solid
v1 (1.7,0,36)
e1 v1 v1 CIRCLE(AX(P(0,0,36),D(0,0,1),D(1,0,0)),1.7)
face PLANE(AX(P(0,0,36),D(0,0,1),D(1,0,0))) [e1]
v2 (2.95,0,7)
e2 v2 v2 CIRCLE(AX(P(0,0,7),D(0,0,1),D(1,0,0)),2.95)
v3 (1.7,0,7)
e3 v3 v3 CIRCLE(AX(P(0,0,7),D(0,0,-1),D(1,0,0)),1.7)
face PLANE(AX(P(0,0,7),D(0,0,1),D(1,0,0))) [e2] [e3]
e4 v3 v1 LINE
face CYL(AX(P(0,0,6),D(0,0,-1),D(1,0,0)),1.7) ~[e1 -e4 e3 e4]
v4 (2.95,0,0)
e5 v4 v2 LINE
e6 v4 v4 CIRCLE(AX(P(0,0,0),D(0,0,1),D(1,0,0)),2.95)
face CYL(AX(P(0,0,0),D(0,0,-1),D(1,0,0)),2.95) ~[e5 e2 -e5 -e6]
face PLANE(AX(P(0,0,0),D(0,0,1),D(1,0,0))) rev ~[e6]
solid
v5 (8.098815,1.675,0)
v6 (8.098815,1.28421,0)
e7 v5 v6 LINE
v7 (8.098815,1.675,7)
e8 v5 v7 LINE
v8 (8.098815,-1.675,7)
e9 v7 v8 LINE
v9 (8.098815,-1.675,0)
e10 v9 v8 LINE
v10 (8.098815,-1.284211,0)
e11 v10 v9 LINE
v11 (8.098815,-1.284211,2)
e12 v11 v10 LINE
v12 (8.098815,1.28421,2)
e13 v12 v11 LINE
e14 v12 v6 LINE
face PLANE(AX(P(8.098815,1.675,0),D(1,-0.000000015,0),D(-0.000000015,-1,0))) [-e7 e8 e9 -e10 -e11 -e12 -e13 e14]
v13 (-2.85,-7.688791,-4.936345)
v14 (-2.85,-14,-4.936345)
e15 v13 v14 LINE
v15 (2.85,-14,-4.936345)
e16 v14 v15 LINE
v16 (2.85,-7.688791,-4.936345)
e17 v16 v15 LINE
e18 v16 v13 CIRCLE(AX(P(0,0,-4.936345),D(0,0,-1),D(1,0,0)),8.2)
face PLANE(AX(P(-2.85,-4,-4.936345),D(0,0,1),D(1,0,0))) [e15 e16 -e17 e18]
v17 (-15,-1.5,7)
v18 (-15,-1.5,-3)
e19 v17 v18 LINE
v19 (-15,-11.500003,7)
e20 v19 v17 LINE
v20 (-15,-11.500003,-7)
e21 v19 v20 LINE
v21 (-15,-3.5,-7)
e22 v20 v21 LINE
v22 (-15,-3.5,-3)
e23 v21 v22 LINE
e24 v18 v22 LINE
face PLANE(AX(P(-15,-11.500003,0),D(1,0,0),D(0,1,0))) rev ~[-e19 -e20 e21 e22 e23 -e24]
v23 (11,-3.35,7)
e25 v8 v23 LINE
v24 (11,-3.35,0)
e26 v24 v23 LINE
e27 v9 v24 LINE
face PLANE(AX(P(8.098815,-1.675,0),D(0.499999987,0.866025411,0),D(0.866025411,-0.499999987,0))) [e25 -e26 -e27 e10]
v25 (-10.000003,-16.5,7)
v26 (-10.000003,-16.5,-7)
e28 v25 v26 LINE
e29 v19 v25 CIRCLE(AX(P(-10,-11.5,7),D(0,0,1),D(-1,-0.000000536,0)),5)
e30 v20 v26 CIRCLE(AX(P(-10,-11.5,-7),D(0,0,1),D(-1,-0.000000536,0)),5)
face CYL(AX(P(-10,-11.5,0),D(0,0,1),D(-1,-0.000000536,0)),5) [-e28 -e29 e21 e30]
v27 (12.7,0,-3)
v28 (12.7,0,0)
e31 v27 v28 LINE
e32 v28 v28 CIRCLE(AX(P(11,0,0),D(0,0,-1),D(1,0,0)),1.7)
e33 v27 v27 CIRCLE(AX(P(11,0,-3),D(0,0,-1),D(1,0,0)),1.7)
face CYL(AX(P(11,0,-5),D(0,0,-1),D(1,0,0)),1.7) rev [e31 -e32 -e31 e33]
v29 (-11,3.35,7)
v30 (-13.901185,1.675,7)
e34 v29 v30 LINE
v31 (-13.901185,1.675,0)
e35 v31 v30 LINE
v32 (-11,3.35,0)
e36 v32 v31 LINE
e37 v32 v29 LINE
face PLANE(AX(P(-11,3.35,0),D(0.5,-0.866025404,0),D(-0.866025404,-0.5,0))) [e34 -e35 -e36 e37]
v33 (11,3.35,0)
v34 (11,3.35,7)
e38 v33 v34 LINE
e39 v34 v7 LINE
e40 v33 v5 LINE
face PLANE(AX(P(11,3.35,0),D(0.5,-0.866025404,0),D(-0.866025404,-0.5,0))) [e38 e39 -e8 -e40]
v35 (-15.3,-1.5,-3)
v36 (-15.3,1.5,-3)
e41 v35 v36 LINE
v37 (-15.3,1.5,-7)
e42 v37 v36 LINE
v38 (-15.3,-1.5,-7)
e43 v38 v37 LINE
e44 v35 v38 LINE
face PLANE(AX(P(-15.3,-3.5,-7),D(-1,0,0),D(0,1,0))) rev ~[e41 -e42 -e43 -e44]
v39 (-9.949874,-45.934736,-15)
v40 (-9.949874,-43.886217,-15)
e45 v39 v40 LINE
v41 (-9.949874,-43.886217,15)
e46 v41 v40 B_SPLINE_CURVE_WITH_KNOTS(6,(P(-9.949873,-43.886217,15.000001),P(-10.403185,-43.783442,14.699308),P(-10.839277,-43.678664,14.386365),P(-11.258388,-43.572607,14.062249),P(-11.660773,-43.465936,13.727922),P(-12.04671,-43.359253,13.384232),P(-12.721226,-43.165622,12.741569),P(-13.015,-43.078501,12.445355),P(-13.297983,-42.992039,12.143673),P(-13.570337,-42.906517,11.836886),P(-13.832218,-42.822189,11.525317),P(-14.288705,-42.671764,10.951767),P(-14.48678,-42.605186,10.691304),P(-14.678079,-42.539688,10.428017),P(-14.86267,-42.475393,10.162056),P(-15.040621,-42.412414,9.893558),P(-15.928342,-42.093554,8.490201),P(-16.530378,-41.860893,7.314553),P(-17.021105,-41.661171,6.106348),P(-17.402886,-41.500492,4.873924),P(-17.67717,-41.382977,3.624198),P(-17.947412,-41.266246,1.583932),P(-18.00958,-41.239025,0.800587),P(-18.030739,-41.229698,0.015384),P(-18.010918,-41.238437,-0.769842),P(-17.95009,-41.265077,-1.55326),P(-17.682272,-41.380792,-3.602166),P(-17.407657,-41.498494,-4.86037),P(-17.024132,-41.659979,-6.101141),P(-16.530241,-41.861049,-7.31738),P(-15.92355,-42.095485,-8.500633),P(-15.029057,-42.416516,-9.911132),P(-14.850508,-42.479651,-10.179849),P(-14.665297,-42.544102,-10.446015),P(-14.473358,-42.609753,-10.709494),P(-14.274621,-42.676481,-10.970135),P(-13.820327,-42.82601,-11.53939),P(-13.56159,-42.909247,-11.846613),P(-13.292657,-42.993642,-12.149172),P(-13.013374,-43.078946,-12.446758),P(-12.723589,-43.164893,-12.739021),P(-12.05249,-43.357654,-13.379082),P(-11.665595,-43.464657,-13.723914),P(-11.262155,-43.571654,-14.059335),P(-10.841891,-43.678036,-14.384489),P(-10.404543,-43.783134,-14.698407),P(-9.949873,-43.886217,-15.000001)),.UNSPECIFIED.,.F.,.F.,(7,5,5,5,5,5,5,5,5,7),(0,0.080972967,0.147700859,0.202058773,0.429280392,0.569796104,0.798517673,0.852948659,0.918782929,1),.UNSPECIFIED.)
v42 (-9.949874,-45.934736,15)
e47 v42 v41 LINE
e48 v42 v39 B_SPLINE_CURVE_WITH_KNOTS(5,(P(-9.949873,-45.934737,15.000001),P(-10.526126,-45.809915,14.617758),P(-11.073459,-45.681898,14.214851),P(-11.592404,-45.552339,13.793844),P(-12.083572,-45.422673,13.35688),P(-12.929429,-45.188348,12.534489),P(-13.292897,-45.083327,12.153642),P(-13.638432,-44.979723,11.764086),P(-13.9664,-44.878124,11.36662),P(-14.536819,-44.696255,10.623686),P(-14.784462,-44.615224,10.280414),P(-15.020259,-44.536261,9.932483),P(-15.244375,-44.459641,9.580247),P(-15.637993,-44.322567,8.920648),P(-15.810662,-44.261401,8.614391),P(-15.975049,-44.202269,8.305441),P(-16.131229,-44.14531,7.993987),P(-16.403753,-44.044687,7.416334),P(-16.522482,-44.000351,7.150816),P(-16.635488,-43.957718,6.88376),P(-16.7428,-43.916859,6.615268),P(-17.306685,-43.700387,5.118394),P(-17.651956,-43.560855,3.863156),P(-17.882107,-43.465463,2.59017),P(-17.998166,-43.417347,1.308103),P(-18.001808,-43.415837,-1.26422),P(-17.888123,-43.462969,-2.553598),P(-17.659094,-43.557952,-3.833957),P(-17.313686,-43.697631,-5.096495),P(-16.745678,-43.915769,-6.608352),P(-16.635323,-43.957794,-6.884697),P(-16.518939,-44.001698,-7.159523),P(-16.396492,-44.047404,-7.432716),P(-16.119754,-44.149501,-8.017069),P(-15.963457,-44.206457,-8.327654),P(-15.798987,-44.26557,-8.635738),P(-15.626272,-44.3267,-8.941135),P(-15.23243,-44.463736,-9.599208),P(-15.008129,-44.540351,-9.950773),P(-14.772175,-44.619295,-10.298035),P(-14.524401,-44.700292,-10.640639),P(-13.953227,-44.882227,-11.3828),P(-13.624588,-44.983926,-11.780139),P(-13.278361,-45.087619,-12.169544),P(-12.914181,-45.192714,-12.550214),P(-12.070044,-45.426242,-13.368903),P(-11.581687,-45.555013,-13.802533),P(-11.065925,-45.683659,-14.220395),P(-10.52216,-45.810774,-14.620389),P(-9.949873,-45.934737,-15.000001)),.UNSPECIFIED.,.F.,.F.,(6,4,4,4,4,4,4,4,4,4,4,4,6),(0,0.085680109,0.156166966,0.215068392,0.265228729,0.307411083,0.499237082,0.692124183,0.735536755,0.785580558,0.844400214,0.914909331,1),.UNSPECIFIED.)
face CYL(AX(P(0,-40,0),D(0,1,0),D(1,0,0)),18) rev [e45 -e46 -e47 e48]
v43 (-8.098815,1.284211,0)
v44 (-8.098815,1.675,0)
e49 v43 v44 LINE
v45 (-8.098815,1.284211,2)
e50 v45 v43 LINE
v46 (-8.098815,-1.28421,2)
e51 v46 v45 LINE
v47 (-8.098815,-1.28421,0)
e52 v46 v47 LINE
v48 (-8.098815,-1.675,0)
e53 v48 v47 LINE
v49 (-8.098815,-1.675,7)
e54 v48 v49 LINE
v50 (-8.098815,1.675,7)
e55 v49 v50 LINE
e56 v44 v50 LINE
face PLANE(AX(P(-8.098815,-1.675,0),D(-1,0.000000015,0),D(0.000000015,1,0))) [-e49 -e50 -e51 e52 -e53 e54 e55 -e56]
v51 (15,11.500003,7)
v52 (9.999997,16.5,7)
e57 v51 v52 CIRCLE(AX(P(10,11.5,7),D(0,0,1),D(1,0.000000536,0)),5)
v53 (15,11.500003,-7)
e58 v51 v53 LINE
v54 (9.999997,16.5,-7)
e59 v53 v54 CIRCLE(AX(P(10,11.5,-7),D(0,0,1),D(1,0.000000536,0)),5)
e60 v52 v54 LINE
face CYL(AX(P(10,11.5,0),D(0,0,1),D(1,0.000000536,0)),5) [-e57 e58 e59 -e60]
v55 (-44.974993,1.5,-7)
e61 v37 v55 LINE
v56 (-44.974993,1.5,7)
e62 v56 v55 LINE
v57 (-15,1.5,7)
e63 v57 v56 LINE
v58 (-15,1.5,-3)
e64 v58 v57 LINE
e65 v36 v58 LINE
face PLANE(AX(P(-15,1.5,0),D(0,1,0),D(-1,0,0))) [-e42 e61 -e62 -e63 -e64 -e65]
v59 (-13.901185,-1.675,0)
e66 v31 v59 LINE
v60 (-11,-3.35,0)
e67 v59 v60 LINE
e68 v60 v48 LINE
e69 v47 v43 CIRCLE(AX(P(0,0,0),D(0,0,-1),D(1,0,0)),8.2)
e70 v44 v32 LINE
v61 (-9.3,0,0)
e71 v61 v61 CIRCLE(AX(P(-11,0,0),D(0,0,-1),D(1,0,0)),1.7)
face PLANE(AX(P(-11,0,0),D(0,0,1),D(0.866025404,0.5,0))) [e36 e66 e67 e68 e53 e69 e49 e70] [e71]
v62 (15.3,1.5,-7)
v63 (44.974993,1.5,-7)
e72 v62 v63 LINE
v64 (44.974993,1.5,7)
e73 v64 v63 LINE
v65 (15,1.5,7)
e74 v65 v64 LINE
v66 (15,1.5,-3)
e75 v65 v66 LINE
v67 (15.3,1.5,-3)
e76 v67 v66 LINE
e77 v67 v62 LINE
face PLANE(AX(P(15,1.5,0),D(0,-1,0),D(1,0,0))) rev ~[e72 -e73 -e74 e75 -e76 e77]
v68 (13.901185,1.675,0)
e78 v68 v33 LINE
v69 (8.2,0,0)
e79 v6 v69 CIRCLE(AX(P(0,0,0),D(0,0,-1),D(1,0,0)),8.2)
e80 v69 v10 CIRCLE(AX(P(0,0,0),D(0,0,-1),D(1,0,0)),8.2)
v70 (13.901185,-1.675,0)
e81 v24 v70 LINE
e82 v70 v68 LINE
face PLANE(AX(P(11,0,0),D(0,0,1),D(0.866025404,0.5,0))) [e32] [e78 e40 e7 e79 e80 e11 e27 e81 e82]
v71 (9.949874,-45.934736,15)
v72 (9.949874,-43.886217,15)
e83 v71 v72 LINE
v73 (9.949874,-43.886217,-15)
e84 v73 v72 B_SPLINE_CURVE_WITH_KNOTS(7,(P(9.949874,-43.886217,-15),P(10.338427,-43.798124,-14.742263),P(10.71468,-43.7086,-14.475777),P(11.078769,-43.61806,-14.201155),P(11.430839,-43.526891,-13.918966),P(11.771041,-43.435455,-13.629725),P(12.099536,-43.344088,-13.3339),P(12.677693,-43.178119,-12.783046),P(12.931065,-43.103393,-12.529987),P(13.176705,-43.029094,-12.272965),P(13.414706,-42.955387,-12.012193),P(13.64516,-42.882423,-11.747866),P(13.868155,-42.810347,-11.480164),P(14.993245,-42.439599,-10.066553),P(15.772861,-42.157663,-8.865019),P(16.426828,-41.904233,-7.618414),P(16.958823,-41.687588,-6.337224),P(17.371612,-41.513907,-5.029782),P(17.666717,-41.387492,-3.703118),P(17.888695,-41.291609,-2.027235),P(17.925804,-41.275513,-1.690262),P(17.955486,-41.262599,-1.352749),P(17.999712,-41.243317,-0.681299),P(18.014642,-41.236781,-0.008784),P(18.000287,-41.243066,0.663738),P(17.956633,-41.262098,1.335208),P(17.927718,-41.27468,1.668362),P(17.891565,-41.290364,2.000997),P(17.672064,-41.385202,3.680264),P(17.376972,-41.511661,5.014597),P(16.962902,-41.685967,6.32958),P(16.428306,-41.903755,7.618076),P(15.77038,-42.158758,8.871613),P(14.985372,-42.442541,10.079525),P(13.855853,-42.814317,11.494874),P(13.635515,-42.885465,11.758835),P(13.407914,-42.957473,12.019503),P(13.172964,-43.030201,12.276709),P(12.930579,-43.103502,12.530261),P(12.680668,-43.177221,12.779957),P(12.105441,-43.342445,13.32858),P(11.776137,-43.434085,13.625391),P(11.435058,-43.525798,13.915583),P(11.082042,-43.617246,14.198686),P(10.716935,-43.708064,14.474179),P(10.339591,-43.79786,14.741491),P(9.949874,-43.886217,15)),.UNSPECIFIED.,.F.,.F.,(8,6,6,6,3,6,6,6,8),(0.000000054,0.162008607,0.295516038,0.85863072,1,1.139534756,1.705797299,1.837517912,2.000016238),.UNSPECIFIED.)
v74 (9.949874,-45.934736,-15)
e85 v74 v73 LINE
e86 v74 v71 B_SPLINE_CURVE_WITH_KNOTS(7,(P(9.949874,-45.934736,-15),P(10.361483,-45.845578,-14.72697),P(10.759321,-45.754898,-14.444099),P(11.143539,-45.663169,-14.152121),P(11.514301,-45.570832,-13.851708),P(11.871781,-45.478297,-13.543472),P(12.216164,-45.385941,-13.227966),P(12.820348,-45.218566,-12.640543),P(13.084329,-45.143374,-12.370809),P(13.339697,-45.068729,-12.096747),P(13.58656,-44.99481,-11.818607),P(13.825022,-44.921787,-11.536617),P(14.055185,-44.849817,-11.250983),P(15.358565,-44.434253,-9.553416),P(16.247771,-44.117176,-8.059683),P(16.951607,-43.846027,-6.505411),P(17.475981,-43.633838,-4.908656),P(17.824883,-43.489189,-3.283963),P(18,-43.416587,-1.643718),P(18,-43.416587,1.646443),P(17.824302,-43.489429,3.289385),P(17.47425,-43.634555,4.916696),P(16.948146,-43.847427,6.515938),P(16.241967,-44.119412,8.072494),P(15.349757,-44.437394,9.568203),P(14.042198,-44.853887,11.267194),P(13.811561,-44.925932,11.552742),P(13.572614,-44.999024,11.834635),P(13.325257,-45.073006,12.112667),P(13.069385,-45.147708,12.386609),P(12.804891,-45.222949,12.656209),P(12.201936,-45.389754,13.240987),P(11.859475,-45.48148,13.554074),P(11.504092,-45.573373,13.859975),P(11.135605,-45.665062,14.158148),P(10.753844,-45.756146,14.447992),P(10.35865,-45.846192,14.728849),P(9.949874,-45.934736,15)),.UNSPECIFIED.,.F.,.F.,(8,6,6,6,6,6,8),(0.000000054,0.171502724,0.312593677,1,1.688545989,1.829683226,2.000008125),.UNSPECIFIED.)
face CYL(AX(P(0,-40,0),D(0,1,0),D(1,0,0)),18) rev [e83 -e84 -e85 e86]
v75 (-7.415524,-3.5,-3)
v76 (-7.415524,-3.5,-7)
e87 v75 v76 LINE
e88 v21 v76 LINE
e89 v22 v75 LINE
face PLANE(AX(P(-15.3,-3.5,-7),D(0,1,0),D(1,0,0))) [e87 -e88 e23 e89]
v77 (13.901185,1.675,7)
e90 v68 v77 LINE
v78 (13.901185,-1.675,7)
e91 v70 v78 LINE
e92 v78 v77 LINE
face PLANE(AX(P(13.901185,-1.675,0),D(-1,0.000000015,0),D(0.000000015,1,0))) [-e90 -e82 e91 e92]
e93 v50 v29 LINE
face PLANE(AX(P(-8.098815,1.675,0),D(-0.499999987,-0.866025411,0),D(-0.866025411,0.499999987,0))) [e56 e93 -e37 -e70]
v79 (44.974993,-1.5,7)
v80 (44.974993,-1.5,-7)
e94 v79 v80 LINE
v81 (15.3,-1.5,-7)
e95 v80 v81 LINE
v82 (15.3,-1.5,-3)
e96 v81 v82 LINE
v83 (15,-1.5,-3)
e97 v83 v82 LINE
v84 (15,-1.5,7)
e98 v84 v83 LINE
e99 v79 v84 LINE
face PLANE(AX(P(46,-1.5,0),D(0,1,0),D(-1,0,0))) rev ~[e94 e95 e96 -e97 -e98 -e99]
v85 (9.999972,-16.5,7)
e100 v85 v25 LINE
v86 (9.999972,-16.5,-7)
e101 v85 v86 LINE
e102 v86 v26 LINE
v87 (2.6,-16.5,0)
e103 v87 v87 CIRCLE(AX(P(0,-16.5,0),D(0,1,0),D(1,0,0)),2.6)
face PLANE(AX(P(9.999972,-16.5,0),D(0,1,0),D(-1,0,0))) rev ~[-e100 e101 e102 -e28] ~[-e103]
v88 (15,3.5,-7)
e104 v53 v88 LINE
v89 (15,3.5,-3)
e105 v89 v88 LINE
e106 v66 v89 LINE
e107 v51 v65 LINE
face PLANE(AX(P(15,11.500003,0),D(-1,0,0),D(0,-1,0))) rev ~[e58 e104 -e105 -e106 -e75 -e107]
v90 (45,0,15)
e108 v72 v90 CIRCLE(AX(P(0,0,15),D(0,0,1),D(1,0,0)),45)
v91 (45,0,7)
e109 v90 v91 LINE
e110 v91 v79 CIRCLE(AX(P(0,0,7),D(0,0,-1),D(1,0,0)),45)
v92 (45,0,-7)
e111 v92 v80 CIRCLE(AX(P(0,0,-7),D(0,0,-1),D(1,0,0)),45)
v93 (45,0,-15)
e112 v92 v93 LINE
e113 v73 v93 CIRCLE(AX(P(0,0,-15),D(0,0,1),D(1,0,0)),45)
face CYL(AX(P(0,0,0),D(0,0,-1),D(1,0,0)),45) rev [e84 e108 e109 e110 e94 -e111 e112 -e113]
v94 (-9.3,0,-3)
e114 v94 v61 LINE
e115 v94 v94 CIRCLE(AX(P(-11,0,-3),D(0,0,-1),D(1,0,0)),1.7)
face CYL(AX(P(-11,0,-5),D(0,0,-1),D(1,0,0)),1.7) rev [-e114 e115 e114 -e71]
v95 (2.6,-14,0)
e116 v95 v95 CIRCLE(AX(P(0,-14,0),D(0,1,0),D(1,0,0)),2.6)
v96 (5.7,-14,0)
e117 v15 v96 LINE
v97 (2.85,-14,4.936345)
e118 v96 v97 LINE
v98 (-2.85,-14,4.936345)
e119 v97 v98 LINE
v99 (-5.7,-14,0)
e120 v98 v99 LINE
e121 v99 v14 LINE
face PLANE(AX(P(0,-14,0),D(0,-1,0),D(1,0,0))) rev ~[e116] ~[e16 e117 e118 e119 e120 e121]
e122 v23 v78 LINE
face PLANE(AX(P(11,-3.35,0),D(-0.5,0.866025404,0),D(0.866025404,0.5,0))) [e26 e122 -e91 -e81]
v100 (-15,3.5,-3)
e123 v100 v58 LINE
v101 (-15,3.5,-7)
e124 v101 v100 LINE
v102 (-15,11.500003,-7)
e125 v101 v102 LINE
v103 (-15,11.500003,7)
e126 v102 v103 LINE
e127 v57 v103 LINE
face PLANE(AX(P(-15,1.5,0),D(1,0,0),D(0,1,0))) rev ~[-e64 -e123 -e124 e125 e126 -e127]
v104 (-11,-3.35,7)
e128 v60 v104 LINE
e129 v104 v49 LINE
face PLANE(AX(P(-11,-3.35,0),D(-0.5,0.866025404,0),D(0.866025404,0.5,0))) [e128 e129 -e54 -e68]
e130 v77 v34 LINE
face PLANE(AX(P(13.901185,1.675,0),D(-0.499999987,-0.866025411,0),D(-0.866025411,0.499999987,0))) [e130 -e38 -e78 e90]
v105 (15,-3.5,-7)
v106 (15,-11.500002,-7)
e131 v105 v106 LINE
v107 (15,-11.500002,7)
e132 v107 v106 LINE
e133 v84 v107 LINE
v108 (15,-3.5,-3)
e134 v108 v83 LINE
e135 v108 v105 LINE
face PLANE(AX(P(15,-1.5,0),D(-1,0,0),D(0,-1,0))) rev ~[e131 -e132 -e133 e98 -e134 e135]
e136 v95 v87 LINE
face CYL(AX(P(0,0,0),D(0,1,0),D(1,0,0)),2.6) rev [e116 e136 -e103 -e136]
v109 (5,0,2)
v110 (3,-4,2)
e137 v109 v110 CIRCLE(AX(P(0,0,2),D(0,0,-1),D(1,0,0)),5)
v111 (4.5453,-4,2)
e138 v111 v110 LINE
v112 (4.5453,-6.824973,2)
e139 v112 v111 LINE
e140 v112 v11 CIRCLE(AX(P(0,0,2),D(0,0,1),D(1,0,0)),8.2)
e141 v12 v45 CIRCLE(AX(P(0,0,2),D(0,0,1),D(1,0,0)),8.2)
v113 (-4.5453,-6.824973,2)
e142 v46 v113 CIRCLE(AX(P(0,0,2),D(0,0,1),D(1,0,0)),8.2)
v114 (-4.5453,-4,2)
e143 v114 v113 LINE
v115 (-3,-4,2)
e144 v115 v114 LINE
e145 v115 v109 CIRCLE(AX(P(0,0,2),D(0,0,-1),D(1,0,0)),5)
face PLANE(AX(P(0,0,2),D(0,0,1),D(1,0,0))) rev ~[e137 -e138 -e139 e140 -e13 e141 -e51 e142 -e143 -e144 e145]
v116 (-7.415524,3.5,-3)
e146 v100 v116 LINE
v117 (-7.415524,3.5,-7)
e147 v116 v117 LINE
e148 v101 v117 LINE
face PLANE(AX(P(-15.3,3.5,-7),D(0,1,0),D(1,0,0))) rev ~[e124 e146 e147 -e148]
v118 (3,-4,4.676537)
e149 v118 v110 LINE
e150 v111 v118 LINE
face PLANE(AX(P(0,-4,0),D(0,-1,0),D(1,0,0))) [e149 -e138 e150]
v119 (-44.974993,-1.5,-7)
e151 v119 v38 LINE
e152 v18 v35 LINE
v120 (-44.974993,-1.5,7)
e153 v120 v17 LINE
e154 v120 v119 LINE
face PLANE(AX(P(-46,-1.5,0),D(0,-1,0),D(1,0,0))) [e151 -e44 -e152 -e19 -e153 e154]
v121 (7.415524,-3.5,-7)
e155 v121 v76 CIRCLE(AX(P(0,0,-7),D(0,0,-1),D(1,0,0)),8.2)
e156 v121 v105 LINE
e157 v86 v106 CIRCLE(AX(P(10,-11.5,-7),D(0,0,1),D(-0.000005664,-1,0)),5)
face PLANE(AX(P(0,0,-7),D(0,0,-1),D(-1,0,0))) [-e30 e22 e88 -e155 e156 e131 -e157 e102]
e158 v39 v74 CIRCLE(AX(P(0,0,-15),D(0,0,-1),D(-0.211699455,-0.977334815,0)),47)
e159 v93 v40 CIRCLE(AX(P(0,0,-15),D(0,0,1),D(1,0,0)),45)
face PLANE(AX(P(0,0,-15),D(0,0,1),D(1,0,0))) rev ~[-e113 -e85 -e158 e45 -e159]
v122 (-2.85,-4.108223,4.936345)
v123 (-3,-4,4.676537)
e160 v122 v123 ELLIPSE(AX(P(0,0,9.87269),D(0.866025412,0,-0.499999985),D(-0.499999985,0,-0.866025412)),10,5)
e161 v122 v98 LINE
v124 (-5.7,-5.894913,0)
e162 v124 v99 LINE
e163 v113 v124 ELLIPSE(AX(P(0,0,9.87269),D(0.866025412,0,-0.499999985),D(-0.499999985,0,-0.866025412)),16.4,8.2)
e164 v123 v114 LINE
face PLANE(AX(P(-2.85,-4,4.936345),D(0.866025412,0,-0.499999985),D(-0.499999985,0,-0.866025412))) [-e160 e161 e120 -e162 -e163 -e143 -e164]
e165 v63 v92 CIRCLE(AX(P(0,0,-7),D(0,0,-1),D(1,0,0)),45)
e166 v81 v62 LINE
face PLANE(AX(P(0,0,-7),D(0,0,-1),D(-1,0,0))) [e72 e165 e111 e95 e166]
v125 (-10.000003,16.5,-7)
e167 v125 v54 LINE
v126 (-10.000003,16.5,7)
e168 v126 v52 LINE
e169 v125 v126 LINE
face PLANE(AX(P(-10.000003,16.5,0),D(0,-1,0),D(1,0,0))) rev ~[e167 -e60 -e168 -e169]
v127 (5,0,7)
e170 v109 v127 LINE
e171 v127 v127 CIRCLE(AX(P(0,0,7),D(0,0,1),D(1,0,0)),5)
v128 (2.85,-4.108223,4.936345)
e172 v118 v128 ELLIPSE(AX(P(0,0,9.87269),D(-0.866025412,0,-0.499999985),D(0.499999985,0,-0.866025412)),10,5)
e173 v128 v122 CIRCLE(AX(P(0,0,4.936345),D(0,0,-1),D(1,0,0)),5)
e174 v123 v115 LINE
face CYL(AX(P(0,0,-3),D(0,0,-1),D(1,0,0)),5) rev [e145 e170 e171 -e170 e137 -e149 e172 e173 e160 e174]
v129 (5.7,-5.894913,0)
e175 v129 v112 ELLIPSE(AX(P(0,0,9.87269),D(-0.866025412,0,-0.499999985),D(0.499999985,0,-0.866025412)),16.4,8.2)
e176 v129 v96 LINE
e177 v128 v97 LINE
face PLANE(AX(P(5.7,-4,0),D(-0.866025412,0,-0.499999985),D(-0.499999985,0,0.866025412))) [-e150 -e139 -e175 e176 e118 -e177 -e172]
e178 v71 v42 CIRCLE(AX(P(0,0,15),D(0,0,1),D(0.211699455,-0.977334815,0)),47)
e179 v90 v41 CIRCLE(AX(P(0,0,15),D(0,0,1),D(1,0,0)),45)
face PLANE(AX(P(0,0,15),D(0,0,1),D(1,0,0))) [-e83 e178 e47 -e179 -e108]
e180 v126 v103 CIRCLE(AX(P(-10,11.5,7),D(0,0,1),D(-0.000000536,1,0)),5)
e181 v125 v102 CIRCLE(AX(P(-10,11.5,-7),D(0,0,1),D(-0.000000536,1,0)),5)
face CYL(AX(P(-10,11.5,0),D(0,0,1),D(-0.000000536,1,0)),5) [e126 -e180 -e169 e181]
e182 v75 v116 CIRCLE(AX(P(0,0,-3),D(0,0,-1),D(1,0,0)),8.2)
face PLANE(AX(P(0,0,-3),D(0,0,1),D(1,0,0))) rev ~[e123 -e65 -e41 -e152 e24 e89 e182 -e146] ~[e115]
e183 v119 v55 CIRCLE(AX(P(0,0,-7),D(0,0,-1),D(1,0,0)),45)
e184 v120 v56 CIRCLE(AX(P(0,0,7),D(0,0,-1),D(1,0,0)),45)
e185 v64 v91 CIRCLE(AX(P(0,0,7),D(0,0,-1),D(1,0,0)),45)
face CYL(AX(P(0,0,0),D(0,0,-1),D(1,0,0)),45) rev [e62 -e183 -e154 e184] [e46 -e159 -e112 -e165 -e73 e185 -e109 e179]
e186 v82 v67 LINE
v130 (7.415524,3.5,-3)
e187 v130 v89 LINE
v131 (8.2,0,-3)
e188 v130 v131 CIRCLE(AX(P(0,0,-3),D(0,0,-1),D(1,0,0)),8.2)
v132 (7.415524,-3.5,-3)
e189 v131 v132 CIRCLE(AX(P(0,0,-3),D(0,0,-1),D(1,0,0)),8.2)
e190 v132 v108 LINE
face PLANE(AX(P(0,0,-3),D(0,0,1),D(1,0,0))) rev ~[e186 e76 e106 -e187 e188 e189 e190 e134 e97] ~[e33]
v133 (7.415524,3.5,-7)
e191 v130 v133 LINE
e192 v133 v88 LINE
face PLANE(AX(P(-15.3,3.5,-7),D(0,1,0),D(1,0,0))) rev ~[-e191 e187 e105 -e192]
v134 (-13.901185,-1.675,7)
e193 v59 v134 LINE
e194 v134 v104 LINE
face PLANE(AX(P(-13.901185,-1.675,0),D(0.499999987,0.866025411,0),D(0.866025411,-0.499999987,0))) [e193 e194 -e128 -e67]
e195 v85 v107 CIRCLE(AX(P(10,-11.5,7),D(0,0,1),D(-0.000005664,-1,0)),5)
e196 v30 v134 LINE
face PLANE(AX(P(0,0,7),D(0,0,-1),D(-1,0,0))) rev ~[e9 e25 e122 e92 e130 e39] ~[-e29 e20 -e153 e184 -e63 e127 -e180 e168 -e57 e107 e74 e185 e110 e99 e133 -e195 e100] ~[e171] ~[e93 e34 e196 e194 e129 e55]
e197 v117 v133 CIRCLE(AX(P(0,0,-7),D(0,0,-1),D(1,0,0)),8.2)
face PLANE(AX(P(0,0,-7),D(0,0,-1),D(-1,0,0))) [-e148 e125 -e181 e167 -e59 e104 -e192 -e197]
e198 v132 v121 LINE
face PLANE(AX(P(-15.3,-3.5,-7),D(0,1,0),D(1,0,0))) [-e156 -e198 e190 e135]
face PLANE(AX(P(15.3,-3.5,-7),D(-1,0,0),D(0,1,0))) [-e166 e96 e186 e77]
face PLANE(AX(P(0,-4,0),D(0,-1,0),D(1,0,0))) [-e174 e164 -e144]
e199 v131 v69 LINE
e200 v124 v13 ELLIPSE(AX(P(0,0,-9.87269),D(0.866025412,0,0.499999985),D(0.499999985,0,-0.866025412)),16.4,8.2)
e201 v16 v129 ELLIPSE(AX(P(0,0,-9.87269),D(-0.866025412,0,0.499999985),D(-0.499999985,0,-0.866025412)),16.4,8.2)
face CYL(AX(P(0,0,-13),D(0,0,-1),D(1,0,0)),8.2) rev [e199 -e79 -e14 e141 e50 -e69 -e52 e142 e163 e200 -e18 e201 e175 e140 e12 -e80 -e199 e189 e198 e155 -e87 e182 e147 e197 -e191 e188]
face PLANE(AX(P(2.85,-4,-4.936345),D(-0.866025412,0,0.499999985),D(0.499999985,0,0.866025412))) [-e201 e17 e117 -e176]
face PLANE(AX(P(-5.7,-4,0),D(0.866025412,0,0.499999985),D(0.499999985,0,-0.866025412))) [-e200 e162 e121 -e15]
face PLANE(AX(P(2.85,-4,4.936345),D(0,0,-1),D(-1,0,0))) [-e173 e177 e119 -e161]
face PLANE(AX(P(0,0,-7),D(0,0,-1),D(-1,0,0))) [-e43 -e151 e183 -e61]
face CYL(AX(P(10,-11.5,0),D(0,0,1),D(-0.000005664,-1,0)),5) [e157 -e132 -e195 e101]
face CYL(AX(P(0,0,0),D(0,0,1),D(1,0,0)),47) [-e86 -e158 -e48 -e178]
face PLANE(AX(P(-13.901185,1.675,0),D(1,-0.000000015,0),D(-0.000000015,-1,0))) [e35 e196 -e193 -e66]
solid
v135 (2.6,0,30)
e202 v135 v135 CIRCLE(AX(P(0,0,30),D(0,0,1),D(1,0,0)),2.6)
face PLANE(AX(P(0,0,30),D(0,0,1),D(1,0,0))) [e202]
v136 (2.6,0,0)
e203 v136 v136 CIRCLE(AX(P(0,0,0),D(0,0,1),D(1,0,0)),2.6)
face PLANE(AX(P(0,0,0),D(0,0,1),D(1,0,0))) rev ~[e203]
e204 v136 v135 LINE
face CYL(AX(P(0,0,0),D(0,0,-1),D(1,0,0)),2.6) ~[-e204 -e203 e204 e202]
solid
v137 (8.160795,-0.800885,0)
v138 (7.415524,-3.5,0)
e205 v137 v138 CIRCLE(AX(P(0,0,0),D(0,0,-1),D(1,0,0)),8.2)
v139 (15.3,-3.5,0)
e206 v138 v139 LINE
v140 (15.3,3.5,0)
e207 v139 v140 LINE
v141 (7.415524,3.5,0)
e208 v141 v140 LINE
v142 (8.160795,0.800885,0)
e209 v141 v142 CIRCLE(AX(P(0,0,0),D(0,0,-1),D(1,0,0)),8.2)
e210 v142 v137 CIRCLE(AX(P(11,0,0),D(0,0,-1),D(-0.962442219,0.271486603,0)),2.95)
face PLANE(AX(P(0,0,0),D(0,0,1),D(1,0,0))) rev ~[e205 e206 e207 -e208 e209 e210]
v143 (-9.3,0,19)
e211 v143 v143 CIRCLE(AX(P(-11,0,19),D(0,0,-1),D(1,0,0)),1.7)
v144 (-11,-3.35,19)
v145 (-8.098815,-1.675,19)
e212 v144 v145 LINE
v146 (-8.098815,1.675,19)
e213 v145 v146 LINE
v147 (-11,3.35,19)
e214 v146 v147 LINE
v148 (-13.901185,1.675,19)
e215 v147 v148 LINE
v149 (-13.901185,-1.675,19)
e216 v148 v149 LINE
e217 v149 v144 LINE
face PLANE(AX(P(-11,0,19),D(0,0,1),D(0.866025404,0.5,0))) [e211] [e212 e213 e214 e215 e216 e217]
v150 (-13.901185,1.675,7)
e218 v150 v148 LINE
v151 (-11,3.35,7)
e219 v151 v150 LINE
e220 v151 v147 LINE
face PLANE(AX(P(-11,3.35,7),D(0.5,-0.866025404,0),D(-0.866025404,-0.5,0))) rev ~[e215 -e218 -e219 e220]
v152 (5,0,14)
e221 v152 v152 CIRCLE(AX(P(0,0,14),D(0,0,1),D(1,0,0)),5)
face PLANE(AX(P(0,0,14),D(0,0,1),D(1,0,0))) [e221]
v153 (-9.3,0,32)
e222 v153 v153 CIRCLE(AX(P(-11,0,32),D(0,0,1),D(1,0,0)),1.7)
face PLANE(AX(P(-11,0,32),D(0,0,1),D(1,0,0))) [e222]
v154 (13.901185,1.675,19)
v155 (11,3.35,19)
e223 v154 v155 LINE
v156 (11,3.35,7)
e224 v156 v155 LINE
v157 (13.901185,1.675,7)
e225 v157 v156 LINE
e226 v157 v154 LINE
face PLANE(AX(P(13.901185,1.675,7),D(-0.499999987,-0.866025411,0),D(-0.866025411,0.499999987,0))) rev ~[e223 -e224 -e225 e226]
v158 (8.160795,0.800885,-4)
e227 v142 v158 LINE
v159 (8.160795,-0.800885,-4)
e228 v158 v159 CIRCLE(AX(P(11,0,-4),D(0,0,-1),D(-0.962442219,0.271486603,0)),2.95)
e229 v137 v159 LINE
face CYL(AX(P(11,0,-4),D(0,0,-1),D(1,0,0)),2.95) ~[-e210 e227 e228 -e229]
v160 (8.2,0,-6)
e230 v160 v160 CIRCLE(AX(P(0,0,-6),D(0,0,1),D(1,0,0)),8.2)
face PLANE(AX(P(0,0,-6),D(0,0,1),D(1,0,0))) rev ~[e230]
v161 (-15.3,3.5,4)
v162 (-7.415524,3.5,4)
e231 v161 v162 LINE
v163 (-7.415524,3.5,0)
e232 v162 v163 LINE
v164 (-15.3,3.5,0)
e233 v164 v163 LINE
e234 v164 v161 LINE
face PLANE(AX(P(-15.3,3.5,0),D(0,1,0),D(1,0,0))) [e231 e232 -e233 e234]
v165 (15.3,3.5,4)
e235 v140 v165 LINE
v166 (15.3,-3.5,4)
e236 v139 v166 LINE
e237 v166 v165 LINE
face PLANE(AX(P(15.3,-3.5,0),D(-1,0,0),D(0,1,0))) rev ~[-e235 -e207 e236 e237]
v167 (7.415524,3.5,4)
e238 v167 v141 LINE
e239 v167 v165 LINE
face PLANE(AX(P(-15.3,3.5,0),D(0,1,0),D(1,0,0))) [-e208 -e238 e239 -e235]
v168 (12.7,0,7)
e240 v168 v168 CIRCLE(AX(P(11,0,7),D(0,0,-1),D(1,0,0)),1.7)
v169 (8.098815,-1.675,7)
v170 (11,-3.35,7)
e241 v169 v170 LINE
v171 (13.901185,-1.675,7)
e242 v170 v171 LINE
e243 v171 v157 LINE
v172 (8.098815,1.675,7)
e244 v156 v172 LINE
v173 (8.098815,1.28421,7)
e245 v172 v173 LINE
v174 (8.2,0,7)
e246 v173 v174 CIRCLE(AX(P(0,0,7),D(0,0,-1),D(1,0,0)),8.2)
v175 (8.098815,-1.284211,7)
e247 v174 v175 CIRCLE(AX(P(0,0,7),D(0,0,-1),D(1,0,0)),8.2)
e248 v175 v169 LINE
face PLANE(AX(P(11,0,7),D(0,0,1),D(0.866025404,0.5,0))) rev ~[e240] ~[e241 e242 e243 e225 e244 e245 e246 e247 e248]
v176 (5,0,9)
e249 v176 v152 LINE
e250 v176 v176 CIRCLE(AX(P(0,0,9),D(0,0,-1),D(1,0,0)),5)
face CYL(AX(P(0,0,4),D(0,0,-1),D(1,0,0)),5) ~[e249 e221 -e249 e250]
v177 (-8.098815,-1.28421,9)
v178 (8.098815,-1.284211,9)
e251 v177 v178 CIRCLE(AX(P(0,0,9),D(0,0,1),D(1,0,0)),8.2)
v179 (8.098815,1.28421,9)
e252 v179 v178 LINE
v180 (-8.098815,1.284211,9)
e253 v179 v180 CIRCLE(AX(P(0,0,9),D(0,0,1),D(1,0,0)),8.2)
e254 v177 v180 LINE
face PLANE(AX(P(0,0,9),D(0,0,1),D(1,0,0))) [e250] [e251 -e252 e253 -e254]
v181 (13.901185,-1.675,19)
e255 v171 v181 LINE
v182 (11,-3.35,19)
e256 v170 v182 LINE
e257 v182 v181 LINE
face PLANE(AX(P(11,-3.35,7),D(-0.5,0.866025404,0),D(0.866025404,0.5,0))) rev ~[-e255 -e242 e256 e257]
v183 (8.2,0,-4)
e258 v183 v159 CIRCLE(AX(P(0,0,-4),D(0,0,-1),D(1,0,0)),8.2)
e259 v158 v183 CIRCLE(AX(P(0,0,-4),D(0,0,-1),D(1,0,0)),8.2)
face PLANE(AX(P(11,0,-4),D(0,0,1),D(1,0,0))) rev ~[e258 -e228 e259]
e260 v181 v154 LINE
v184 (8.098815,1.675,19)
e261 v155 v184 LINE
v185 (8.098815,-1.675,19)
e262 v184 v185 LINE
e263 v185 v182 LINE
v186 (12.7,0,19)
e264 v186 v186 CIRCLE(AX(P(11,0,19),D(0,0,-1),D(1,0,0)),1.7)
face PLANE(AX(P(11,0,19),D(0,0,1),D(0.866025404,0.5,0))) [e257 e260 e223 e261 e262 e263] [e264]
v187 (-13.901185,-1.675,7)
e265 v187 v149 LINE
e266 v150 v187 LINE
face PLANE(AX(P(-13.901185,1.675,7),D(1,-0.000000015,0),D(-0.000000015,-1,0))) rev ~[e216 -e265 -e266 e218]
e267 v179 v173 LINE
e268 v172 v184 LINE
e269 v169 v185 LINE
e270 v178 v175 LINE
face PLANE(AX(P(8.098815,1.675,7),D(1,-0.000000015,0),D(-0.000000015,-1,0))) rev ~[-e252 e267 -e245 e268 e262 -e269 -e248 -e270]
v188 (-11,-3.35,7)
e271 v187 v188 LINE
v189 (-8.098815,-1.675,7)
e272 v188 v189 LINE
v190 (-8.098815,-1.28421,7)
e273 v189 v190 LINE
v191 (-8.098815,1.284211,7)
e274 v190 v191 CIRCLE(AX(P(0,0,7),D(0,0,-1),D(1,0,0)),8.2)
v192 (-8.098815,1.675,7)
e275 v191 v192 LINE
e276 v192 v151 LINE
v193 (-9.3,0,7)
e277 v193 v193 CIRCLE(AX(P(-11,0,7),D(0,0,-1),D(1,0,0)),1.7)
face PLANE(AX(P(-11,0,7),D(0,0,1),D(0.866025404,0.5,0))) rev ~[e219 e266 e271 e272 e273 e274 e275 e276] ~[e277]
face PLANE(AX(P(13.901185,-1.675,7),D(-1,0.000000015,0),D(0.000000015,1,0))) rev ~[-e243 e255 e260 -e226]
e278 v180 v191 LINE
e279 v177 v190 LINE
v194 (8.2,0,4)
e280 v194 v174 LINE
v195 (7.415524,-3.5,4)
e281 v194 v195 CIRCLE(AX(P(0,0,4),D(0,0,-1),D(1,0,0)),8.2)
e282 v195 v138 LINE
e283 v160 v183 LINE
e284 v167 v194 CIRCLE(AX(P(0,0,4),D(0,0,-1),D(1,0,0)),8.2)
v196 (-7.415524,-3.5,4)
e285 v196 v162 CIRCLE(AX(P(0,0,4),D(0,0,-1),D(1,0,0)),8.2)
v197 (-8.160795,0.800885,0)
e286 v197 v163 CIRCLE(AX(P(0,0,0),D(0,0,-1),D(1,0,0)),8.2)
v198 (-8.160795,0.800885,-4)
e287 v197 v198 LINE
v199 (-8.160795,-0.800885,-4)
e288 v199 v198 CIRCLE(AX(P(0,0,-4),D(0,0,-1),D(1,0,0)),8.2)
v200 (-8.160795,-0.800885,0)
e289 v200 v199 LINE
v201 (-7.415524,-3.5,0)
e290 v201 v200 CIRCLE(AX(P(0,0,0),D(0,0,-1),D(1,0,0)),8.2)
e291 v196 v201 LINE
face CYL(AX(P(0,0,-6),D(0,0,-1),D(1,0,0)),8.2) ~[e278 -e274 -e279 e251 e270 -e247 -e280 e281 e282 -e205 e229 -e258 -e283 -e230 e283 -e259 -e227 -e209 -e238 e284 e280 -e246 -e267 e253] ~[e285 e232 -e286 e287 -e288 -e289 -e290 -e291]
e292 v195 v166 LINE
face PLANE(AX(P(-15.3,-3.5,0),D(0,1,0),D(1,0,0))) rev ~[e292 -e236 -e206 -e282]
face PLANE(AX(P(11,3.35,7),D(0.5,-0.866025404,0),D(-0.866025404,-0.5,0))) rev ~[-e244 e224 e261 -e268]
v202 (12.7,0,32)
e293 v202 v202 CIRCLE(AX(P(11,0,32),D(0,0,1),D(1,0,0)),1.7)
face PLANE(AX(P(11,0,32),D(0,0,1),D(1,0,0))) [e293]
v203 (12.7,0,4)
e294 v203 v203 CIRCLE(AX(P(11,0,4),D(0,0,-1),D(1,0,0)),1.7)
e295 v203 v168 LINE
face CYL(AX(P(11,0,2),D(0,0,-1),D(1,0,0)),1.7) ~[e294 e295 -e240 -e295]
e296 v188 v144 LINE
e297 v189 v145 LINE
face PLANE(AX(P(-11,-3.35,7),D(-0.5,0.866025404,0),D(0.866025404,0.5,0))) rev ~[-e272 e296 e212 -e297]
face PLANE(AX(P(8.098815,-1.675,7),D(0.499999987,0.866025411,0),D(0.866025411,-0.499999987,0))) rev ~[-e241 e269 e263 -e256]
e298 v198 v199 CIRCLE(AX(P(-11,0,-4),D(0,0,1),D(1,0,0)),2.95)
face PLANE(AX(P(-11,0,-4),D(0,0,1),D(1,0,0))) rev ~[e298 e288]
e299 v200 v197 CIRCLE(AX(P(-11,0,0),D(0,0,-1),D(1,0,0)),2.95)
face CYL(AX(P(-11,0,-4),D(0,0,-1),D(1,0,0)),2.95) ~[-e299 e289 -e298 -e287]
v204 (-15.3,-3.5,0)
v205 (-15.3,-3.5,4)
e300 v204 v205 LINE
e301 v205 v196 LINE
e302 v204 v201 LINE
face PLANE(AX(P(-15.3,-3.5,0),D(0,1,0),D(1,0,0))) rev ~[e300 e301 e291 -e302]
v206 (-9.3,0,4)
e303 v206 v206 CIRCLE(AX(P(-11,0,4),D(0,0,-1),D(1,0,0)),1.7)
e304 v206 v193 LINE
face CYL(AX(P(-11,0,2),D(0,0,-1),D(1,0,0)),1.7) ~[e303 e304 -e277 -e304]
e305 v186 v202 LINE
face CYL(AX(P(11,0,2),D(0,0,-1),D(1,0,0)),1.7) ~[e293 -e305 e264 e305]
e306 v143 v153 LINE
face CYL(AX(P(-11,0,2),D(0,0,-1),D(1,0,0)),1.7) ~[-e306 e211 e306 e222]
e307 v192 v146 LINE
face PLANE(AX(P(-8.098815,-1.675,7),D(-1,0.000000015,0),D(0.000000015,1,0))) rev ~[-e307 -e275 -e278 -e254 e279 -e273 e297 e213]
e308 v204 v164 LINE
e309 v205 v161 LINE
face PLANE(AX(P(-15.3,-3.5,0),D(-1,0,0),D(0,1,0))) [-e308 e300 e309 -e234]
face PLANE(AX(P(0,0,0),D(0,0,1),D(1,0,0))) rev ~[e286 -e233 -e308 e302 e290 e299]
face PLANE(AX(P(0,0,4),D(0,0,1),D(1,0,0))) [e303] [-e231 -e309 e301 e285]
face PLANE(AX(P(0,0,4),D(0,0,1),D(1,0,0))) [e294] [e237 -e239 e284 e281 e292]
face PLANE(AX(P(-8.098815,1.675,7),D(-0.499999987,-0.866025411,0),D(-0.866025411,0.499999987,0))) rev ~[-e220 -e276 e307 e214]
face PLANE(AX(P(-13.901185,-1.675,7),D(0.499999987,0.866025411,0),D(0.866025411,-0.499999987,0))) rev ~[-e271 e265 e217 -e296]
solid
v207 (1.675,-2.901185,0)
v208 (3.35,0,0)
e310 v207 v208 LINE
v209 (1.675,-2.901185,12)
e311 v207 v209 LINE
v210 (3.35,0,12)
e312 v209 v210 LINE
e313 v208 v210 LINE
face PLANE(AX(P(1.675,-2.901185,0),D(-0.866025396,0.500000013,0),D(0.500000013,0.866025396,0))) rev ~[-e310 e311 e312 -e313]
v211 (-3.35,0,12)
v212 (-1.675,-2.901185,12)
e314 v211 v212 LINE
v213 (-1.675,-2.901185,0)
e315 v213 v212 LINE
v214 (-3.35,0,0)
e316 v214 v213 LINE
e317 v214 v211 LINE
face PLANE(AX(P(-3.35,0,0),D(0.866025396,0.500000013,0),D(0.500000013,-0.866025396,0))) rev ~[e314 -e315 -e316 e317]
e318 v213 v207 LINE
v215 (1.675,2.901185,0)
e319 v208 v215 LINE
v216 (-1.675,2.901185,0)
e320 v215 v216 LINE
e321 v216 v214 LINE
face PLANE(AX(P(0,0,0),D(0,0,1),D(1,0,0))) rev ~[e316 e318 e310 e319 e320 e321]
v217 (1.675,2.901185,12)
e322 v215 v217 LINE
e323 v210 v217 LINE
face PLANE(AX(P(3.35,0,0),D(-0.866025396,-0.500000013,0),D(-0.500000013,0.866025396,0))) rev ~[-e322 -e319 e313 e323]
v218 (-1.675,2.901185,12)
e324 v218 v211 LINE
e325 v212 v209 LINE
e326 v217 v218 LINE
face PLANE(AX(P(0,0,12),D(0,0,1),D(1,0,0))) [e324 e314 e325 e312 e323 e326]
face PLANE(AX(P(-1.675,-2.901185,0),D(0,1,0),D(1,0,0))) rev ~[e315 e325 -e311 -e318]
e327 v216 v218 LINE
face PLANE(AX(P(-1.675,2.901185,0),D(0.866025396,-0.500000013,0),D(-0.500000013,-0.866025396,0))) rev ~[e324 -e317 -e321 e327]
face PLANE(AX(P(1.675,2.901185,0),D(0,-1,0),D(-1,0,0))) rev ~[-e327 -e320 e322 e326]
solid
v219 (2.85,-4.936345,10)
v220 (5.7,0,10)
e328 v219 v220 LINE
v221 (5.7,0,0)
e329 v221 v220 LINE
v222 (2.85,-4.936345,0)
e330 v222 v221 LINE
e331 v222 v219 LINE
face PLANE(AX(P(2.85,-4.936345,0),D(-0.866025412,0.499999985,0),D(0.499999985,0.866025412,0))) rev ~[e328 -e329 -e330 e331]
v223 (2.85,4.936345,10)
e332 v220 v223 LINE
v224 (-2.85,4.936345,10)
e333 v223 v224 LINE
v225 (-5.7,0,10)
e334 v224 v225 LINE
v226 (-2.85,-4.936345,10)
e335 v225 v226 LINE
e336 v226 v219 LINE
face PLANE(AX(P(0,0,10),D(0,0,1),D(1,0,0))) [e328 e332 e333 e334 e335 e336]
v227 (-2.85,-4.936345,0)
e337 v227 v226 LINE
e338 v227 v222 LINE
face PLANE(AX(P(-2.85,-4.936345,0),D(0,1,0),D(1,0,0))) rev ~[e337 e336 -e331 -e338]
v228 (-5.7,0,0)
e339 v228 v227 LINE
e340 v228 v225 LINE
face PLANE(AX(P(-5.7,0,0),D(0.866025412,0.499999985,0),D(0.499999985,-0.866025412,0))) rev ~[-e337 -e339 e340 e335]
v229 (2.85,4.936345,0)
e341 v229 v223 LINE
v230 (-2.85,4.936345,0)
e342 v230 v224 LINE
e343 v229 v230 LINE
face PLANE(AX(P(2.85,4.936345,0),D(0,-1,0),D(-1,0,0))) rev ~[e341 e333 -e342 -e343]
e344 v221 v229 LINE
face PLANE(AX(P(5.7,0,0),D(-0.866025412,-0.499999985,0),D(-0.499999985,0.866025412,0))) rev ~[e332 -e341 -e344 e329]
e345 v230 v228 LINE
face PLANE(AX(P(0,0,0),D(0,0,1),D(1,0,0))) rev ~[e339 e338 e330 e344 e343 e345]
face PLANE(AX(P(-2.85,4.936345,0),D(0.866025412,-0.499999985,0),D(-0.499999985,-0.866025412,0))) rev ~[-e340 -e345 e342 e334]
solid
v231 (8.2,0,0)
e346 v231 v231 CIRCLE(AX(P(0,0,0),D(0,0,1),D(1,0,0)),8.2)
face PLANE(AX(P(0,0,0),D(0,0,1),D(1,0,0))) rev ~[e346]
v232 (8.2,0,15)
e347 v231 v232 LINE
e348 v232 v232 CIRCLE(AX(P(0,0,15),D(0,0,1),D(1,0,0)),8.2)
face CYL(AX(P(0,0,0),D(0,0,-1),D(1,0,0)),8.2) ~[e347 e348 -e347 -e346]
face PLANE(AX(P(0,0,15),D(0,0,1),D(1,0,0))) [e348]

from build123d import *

# Parameters (mm, degrees)
CYLINDER_R               = 2.95
CYLINDER_DEPTH           = 7
CYLINDER001_R            = 1.7
CYLINDER001_DEPTH        = 30
PRISM_DEPTH              = 12
CYLINDER1003_R           = 8.2
CYLINDER1003_DEPTH       = 15
CLONE139_PLACEMENT_ANGLE = 30
BOX251_W                 = 30.6
BOX251_H                 = 7
BOX251_DEPTH             = 4
CYLINDER1015_R           = 5
CYLINDER1015_DEPTH       = 10
CLONE140_PLACEMENT_ANGLE = 30
CYLINDER1030_R           = 2.6
CYLINDER1030_DEPTH       = 30
PRISM001_DEPTH           = 10
CLONE322_ROLL_ANGLE      = 90
CYLINDER1031_R           = 18
CYLINDER1031_DEPTH       = 10
CYLINDER1031_ROLL_ANGLE  = 90
CLONE323_ROLL_ANGLE      = 90
PAD041_DEPTH             = 7
SKETCH057_R              = 47
SKETCH057_R_2            = 45
PAD040_DEPTH             = 15


with BuildPart() as m3bolthead:
    # Cylinder → Cylinder (new body)
    with BuildSketch(Plane.XY):
        Circle(CYLINDER_R)
    extrude(amount=CYLINDER_DEPTH)


with BuildPart() as m3bolt:
    # Cylinder001 → Cylinder001 (new body)
    with BuildSketch(Plane.XY.offset(6)):
        Circle(CYLINDER001_R)
    extrude(amount=CYLINDER001_DEPTH)

    # Fusion: union M3BoltHead
    add(m3bolthead.part)


with BuildPart() as m3nut:
    # Prism → Prism (new body)
    with BuildSketch(Plane.XY):
        Polygon((3.35, 0), (1.675, 2.901185), (-1.675, 2.901185), (-3.35, 0), (-1.675, -2.901185), (1.675, -2.901185), align=None)
    extrude(amount=PRISM_DEPTH)


with BuildPart() as bearing625zzmaster:
    # Cylinder1003 → Cylinder1003 (new body)
    with BuildSketch(Plane.XY):
        Circle(CYLINDER1003_R)
    extrude(amount=CYLINDER1003_DEPTH)


with BuildPart() as clone_of_m3nut005:
    # Clone139 base: copy of M3Nut
    add(m3nut.part)


with BuildPart() as clone_of_m3nut005_1:
    # Clone139 placement: moved
    add(clone_of_m3nut005.part.moved(Location((11, 0, 7))).rotate(Axis((11, 0, 7), (0, 0, 1)), CLONE139_PLACEMENT_ANGLE))


with BuildPart() as cube015:
    # Box251 → Box251 (new body)
    with BuildSketch(Plane(origin=(-15.3, -3.5, 0), x_dir=(1, 0, 0), z_dir=(0, 0, 1))):
        with Locations((15.3, 3.5)):
            Rectangle(BOX251_W, BOX251_H)
    extrude(amount=BOX251_DEPTH)


with BuildPart() as clone_of_m3bolt039:
    # Clone137 base: copy of M3Bolt
    add(m3bolt.part)


with BuildPart() as clone_of_m3bolt039_1:
    # Clone137 placement: moved
    add(clone_of_m3bolt039.part.moved(Location((11, 0, -4))))


with BuildPart() as clone_of_m3bolt040:
    # Clone138 base: copy of M3Bolt
    add(m3bolt.part)


with BuildPart() as clone_of_m3bolt040_1:
    # Clone138 placement: moved
    add(clone_of_m3bolt040.part.moved(Location((-11, 0, -4))))


with BuildPart() as cylinder021:
    # Cylinder1015 → Cylinder1015 (new body)
    with BuildSketch(Plane.XY.offset(4)):
        Circle(CYLINDER1015_R)
    extrude(amount=CYLINDER1015_DEPTH)


with BuildPart() as clone_of_bearing625zzmaster:
    # Clone136 base: copy of Bearing625ZZMaster
    add(bearing625zzmaster.part)


with BuildPart() as clone_of_bearing625zzmaster_1:
    # Clone136 placement: moved
    add(clone_of_bearing625zzmaster.part.moved(Location((0, 0, -6))))


with BuildPart() as bearing625zzholes:
    # Clone140 base: copy of M3Nut
    add(m3nut.part)


with BuildPart() as bearing625zzholes_1:
    # Clone140 placement: moved
    add(bearing625zzholes.part.moved(Location((-11, 0, 7))).rotate(Axis((-11, 0, 7), (0, 0, 1)), CLONE140_PLACEMENT_ANGLE))

    # Fusion062: union Clone of M3Nut005, Cube015, Clone of M3Bolt039, Clone of M3Bolt040, Cylinder021, Clone of Bearing625ZZMaster
    add(clone_of_m3nut005_1.part)
    add(cube015.part)
    add(clone_of_m3bolt039_1.part)
    add(clone_of_m3bolt040_1.part)
    add(cylinder021.part)
    add(clone_of_bearing625zzmaster_1.part)


with BuildPart() as m5bolt:
    # Cylinder1030 → Cylinder1030 (new body)
    with BuildSketch(Plane.XY):
        Circle(CYLINDER1030_R)
    extrude(amount=CYLINDER1030_DEPTH)


with BuildPart() as m5nut:
    # Prism001 → Prism001 (new body)
    with BuildSketch(Plane.XY):
        Polygon((5.7, 0), (2.85, 4.936345), (-2.85, 4.936345), (-5.7, 0), (-2.85, -4.936345), (2.85, -4.936345), align=None)
    extrude(amount=PRISM001_DEPTH)


with BuildPart() as clone_of_m5nut:
    # Clone322 base: copy of M5Nut
    add(m5nut.part)


with BuildPart() as clone_of_m5nut_1:
    # Clone322 roll: moved
    add(clone_of_m5nut.part.rotate(Axis((0, 0, 0), (1, 0, 0)), CLONE322_ROLL_ANGLE))


with BuildPart() as clone_of_m5nut_2:
    # Clone322 placement: moved
    add(clone_of_m5nut_1.part.moved(Location((0, -4, 0))))


with BuildPart() as clone_of_bearing625zzholes:
    # Clone305 base: copy of Bearing625zzHoles
    add(bearing625zzholes_1.part)


with BuildPart() as clone_of_bearing625zzholes_1:
    # Clone305 placement: moved
    add(clone_of_bearing625zzholes.part.moved(Location((0, 0, -7))))


with BuildPart() as cylinder1073:
    # Cylinder1031 → Cylinder1031 (new body)
    with BuildSketch(Plane.XY):
        Circle(CYLINDER1031_R)
    extrude(amount=CYLINDER1031_DEPTH)


with BuildPart() as cylinder1073_1:
    # Cylinder1031 roll: moved
    add(cylinder1073.part.rotate(Axis((0, 0, 0), (1, 0, 0)), CYLINDER1031_ROLL_ANGLE))


with BuildPart() as cylinder1073_2:
    # Cylinder1031 placement: moved
    add(cylinder1073_1.part.moved(Location((0, -40, 0))))


with BuildPart() as fusion119:
    # Clone323 base: copy of M5Bolt
    add(m5bolt.part)


with BuildPart() as fusion119_1:
    # Clone323 roll: moved
    add(fusion119.part.rotate(Axis((0, 0, 0), (1, 0, 0)), CLONE323_ROLL_ANGLE))


with BuildPart() as fusion119_2:
    # Clone323 placement: moved
    add(fusion119_1.part)

    # Fusion119: union Clone of M5Nut, Clone of Bearing625zzHoles, Cylinder1073
    add(clone_of_m5nut_2.part)
    add(clone_of_bearing625zzholes_1.part)
    add(cylinder1073_2.part)


with BuildPart() as pad041:
    # Sketch058 → Pad041 (new body, symmetric)
    with BuildSketch(Plane.XY):
        with BuildLine():
            Line((-10.000003, 16.5), (9.999997, 16.5))
            ThreePointArc((15, 11.500003), (13.535532, 15.035536), (9.999997, 16.5))
            Line((15, 11.500003), (15, 1.5))
            Line((15, 1.5), (46, 1.5))
            Line((46, 1.5), (46, -1.5))
            Line((46, -1.5), (15, -1.5))
            Line((15, -1.5), (15, -11.500002))
            ThreePointArc((9.999972, -16.5), (13.535523, -15.035545), (15, -11.500002))
            Line((9.999972, -16.5), (-10.000003, -16.5))
            ThreePointArc((-15, -11.500003), (-13.535534, -15.035534), (-10.000003, -16.5))
            Line((-15, -11.500003), (-15, -1.5))
            Line((-46, -1.5), (-15, -1.5))
            Line((-46, 1.5), (-46, -1.5))
            Line((-15, 1.5), (-46, 1.5))
            Line((-15, 1.5), (-15, 11.500003))
            ThreePointArc((-10.000003, 16.5), (-13.535534, 15.035534), (-15, 11.500003))
        make_face()
    extrude(amount=PAD041_DEPTH, both=True)


with BuildPart() as art56coverring:
    # Sketch057 → Pad040 (new body, symmetric)
    with BuildSketch(Plane.XY):
        Circle(SKETCH057_R)
        Circle(SKETCH057_R_2, mode=Mode.SUBTRACT)
    extrude(amount=PAD040_DEPTH, both=True)

    # Fusion108: union Pad041
    add(pad041.part)

    # Cut100: cut Fusion119
    add(fusion119_2.part, mode=Mode.SUBTRACT)


solid = Compound([m3bolt.part, m3nut.part, bearing625zzmaster.part, bearing625zzholes_1.part, m5bolt.part, m5nut.part, art56coverring.part])
